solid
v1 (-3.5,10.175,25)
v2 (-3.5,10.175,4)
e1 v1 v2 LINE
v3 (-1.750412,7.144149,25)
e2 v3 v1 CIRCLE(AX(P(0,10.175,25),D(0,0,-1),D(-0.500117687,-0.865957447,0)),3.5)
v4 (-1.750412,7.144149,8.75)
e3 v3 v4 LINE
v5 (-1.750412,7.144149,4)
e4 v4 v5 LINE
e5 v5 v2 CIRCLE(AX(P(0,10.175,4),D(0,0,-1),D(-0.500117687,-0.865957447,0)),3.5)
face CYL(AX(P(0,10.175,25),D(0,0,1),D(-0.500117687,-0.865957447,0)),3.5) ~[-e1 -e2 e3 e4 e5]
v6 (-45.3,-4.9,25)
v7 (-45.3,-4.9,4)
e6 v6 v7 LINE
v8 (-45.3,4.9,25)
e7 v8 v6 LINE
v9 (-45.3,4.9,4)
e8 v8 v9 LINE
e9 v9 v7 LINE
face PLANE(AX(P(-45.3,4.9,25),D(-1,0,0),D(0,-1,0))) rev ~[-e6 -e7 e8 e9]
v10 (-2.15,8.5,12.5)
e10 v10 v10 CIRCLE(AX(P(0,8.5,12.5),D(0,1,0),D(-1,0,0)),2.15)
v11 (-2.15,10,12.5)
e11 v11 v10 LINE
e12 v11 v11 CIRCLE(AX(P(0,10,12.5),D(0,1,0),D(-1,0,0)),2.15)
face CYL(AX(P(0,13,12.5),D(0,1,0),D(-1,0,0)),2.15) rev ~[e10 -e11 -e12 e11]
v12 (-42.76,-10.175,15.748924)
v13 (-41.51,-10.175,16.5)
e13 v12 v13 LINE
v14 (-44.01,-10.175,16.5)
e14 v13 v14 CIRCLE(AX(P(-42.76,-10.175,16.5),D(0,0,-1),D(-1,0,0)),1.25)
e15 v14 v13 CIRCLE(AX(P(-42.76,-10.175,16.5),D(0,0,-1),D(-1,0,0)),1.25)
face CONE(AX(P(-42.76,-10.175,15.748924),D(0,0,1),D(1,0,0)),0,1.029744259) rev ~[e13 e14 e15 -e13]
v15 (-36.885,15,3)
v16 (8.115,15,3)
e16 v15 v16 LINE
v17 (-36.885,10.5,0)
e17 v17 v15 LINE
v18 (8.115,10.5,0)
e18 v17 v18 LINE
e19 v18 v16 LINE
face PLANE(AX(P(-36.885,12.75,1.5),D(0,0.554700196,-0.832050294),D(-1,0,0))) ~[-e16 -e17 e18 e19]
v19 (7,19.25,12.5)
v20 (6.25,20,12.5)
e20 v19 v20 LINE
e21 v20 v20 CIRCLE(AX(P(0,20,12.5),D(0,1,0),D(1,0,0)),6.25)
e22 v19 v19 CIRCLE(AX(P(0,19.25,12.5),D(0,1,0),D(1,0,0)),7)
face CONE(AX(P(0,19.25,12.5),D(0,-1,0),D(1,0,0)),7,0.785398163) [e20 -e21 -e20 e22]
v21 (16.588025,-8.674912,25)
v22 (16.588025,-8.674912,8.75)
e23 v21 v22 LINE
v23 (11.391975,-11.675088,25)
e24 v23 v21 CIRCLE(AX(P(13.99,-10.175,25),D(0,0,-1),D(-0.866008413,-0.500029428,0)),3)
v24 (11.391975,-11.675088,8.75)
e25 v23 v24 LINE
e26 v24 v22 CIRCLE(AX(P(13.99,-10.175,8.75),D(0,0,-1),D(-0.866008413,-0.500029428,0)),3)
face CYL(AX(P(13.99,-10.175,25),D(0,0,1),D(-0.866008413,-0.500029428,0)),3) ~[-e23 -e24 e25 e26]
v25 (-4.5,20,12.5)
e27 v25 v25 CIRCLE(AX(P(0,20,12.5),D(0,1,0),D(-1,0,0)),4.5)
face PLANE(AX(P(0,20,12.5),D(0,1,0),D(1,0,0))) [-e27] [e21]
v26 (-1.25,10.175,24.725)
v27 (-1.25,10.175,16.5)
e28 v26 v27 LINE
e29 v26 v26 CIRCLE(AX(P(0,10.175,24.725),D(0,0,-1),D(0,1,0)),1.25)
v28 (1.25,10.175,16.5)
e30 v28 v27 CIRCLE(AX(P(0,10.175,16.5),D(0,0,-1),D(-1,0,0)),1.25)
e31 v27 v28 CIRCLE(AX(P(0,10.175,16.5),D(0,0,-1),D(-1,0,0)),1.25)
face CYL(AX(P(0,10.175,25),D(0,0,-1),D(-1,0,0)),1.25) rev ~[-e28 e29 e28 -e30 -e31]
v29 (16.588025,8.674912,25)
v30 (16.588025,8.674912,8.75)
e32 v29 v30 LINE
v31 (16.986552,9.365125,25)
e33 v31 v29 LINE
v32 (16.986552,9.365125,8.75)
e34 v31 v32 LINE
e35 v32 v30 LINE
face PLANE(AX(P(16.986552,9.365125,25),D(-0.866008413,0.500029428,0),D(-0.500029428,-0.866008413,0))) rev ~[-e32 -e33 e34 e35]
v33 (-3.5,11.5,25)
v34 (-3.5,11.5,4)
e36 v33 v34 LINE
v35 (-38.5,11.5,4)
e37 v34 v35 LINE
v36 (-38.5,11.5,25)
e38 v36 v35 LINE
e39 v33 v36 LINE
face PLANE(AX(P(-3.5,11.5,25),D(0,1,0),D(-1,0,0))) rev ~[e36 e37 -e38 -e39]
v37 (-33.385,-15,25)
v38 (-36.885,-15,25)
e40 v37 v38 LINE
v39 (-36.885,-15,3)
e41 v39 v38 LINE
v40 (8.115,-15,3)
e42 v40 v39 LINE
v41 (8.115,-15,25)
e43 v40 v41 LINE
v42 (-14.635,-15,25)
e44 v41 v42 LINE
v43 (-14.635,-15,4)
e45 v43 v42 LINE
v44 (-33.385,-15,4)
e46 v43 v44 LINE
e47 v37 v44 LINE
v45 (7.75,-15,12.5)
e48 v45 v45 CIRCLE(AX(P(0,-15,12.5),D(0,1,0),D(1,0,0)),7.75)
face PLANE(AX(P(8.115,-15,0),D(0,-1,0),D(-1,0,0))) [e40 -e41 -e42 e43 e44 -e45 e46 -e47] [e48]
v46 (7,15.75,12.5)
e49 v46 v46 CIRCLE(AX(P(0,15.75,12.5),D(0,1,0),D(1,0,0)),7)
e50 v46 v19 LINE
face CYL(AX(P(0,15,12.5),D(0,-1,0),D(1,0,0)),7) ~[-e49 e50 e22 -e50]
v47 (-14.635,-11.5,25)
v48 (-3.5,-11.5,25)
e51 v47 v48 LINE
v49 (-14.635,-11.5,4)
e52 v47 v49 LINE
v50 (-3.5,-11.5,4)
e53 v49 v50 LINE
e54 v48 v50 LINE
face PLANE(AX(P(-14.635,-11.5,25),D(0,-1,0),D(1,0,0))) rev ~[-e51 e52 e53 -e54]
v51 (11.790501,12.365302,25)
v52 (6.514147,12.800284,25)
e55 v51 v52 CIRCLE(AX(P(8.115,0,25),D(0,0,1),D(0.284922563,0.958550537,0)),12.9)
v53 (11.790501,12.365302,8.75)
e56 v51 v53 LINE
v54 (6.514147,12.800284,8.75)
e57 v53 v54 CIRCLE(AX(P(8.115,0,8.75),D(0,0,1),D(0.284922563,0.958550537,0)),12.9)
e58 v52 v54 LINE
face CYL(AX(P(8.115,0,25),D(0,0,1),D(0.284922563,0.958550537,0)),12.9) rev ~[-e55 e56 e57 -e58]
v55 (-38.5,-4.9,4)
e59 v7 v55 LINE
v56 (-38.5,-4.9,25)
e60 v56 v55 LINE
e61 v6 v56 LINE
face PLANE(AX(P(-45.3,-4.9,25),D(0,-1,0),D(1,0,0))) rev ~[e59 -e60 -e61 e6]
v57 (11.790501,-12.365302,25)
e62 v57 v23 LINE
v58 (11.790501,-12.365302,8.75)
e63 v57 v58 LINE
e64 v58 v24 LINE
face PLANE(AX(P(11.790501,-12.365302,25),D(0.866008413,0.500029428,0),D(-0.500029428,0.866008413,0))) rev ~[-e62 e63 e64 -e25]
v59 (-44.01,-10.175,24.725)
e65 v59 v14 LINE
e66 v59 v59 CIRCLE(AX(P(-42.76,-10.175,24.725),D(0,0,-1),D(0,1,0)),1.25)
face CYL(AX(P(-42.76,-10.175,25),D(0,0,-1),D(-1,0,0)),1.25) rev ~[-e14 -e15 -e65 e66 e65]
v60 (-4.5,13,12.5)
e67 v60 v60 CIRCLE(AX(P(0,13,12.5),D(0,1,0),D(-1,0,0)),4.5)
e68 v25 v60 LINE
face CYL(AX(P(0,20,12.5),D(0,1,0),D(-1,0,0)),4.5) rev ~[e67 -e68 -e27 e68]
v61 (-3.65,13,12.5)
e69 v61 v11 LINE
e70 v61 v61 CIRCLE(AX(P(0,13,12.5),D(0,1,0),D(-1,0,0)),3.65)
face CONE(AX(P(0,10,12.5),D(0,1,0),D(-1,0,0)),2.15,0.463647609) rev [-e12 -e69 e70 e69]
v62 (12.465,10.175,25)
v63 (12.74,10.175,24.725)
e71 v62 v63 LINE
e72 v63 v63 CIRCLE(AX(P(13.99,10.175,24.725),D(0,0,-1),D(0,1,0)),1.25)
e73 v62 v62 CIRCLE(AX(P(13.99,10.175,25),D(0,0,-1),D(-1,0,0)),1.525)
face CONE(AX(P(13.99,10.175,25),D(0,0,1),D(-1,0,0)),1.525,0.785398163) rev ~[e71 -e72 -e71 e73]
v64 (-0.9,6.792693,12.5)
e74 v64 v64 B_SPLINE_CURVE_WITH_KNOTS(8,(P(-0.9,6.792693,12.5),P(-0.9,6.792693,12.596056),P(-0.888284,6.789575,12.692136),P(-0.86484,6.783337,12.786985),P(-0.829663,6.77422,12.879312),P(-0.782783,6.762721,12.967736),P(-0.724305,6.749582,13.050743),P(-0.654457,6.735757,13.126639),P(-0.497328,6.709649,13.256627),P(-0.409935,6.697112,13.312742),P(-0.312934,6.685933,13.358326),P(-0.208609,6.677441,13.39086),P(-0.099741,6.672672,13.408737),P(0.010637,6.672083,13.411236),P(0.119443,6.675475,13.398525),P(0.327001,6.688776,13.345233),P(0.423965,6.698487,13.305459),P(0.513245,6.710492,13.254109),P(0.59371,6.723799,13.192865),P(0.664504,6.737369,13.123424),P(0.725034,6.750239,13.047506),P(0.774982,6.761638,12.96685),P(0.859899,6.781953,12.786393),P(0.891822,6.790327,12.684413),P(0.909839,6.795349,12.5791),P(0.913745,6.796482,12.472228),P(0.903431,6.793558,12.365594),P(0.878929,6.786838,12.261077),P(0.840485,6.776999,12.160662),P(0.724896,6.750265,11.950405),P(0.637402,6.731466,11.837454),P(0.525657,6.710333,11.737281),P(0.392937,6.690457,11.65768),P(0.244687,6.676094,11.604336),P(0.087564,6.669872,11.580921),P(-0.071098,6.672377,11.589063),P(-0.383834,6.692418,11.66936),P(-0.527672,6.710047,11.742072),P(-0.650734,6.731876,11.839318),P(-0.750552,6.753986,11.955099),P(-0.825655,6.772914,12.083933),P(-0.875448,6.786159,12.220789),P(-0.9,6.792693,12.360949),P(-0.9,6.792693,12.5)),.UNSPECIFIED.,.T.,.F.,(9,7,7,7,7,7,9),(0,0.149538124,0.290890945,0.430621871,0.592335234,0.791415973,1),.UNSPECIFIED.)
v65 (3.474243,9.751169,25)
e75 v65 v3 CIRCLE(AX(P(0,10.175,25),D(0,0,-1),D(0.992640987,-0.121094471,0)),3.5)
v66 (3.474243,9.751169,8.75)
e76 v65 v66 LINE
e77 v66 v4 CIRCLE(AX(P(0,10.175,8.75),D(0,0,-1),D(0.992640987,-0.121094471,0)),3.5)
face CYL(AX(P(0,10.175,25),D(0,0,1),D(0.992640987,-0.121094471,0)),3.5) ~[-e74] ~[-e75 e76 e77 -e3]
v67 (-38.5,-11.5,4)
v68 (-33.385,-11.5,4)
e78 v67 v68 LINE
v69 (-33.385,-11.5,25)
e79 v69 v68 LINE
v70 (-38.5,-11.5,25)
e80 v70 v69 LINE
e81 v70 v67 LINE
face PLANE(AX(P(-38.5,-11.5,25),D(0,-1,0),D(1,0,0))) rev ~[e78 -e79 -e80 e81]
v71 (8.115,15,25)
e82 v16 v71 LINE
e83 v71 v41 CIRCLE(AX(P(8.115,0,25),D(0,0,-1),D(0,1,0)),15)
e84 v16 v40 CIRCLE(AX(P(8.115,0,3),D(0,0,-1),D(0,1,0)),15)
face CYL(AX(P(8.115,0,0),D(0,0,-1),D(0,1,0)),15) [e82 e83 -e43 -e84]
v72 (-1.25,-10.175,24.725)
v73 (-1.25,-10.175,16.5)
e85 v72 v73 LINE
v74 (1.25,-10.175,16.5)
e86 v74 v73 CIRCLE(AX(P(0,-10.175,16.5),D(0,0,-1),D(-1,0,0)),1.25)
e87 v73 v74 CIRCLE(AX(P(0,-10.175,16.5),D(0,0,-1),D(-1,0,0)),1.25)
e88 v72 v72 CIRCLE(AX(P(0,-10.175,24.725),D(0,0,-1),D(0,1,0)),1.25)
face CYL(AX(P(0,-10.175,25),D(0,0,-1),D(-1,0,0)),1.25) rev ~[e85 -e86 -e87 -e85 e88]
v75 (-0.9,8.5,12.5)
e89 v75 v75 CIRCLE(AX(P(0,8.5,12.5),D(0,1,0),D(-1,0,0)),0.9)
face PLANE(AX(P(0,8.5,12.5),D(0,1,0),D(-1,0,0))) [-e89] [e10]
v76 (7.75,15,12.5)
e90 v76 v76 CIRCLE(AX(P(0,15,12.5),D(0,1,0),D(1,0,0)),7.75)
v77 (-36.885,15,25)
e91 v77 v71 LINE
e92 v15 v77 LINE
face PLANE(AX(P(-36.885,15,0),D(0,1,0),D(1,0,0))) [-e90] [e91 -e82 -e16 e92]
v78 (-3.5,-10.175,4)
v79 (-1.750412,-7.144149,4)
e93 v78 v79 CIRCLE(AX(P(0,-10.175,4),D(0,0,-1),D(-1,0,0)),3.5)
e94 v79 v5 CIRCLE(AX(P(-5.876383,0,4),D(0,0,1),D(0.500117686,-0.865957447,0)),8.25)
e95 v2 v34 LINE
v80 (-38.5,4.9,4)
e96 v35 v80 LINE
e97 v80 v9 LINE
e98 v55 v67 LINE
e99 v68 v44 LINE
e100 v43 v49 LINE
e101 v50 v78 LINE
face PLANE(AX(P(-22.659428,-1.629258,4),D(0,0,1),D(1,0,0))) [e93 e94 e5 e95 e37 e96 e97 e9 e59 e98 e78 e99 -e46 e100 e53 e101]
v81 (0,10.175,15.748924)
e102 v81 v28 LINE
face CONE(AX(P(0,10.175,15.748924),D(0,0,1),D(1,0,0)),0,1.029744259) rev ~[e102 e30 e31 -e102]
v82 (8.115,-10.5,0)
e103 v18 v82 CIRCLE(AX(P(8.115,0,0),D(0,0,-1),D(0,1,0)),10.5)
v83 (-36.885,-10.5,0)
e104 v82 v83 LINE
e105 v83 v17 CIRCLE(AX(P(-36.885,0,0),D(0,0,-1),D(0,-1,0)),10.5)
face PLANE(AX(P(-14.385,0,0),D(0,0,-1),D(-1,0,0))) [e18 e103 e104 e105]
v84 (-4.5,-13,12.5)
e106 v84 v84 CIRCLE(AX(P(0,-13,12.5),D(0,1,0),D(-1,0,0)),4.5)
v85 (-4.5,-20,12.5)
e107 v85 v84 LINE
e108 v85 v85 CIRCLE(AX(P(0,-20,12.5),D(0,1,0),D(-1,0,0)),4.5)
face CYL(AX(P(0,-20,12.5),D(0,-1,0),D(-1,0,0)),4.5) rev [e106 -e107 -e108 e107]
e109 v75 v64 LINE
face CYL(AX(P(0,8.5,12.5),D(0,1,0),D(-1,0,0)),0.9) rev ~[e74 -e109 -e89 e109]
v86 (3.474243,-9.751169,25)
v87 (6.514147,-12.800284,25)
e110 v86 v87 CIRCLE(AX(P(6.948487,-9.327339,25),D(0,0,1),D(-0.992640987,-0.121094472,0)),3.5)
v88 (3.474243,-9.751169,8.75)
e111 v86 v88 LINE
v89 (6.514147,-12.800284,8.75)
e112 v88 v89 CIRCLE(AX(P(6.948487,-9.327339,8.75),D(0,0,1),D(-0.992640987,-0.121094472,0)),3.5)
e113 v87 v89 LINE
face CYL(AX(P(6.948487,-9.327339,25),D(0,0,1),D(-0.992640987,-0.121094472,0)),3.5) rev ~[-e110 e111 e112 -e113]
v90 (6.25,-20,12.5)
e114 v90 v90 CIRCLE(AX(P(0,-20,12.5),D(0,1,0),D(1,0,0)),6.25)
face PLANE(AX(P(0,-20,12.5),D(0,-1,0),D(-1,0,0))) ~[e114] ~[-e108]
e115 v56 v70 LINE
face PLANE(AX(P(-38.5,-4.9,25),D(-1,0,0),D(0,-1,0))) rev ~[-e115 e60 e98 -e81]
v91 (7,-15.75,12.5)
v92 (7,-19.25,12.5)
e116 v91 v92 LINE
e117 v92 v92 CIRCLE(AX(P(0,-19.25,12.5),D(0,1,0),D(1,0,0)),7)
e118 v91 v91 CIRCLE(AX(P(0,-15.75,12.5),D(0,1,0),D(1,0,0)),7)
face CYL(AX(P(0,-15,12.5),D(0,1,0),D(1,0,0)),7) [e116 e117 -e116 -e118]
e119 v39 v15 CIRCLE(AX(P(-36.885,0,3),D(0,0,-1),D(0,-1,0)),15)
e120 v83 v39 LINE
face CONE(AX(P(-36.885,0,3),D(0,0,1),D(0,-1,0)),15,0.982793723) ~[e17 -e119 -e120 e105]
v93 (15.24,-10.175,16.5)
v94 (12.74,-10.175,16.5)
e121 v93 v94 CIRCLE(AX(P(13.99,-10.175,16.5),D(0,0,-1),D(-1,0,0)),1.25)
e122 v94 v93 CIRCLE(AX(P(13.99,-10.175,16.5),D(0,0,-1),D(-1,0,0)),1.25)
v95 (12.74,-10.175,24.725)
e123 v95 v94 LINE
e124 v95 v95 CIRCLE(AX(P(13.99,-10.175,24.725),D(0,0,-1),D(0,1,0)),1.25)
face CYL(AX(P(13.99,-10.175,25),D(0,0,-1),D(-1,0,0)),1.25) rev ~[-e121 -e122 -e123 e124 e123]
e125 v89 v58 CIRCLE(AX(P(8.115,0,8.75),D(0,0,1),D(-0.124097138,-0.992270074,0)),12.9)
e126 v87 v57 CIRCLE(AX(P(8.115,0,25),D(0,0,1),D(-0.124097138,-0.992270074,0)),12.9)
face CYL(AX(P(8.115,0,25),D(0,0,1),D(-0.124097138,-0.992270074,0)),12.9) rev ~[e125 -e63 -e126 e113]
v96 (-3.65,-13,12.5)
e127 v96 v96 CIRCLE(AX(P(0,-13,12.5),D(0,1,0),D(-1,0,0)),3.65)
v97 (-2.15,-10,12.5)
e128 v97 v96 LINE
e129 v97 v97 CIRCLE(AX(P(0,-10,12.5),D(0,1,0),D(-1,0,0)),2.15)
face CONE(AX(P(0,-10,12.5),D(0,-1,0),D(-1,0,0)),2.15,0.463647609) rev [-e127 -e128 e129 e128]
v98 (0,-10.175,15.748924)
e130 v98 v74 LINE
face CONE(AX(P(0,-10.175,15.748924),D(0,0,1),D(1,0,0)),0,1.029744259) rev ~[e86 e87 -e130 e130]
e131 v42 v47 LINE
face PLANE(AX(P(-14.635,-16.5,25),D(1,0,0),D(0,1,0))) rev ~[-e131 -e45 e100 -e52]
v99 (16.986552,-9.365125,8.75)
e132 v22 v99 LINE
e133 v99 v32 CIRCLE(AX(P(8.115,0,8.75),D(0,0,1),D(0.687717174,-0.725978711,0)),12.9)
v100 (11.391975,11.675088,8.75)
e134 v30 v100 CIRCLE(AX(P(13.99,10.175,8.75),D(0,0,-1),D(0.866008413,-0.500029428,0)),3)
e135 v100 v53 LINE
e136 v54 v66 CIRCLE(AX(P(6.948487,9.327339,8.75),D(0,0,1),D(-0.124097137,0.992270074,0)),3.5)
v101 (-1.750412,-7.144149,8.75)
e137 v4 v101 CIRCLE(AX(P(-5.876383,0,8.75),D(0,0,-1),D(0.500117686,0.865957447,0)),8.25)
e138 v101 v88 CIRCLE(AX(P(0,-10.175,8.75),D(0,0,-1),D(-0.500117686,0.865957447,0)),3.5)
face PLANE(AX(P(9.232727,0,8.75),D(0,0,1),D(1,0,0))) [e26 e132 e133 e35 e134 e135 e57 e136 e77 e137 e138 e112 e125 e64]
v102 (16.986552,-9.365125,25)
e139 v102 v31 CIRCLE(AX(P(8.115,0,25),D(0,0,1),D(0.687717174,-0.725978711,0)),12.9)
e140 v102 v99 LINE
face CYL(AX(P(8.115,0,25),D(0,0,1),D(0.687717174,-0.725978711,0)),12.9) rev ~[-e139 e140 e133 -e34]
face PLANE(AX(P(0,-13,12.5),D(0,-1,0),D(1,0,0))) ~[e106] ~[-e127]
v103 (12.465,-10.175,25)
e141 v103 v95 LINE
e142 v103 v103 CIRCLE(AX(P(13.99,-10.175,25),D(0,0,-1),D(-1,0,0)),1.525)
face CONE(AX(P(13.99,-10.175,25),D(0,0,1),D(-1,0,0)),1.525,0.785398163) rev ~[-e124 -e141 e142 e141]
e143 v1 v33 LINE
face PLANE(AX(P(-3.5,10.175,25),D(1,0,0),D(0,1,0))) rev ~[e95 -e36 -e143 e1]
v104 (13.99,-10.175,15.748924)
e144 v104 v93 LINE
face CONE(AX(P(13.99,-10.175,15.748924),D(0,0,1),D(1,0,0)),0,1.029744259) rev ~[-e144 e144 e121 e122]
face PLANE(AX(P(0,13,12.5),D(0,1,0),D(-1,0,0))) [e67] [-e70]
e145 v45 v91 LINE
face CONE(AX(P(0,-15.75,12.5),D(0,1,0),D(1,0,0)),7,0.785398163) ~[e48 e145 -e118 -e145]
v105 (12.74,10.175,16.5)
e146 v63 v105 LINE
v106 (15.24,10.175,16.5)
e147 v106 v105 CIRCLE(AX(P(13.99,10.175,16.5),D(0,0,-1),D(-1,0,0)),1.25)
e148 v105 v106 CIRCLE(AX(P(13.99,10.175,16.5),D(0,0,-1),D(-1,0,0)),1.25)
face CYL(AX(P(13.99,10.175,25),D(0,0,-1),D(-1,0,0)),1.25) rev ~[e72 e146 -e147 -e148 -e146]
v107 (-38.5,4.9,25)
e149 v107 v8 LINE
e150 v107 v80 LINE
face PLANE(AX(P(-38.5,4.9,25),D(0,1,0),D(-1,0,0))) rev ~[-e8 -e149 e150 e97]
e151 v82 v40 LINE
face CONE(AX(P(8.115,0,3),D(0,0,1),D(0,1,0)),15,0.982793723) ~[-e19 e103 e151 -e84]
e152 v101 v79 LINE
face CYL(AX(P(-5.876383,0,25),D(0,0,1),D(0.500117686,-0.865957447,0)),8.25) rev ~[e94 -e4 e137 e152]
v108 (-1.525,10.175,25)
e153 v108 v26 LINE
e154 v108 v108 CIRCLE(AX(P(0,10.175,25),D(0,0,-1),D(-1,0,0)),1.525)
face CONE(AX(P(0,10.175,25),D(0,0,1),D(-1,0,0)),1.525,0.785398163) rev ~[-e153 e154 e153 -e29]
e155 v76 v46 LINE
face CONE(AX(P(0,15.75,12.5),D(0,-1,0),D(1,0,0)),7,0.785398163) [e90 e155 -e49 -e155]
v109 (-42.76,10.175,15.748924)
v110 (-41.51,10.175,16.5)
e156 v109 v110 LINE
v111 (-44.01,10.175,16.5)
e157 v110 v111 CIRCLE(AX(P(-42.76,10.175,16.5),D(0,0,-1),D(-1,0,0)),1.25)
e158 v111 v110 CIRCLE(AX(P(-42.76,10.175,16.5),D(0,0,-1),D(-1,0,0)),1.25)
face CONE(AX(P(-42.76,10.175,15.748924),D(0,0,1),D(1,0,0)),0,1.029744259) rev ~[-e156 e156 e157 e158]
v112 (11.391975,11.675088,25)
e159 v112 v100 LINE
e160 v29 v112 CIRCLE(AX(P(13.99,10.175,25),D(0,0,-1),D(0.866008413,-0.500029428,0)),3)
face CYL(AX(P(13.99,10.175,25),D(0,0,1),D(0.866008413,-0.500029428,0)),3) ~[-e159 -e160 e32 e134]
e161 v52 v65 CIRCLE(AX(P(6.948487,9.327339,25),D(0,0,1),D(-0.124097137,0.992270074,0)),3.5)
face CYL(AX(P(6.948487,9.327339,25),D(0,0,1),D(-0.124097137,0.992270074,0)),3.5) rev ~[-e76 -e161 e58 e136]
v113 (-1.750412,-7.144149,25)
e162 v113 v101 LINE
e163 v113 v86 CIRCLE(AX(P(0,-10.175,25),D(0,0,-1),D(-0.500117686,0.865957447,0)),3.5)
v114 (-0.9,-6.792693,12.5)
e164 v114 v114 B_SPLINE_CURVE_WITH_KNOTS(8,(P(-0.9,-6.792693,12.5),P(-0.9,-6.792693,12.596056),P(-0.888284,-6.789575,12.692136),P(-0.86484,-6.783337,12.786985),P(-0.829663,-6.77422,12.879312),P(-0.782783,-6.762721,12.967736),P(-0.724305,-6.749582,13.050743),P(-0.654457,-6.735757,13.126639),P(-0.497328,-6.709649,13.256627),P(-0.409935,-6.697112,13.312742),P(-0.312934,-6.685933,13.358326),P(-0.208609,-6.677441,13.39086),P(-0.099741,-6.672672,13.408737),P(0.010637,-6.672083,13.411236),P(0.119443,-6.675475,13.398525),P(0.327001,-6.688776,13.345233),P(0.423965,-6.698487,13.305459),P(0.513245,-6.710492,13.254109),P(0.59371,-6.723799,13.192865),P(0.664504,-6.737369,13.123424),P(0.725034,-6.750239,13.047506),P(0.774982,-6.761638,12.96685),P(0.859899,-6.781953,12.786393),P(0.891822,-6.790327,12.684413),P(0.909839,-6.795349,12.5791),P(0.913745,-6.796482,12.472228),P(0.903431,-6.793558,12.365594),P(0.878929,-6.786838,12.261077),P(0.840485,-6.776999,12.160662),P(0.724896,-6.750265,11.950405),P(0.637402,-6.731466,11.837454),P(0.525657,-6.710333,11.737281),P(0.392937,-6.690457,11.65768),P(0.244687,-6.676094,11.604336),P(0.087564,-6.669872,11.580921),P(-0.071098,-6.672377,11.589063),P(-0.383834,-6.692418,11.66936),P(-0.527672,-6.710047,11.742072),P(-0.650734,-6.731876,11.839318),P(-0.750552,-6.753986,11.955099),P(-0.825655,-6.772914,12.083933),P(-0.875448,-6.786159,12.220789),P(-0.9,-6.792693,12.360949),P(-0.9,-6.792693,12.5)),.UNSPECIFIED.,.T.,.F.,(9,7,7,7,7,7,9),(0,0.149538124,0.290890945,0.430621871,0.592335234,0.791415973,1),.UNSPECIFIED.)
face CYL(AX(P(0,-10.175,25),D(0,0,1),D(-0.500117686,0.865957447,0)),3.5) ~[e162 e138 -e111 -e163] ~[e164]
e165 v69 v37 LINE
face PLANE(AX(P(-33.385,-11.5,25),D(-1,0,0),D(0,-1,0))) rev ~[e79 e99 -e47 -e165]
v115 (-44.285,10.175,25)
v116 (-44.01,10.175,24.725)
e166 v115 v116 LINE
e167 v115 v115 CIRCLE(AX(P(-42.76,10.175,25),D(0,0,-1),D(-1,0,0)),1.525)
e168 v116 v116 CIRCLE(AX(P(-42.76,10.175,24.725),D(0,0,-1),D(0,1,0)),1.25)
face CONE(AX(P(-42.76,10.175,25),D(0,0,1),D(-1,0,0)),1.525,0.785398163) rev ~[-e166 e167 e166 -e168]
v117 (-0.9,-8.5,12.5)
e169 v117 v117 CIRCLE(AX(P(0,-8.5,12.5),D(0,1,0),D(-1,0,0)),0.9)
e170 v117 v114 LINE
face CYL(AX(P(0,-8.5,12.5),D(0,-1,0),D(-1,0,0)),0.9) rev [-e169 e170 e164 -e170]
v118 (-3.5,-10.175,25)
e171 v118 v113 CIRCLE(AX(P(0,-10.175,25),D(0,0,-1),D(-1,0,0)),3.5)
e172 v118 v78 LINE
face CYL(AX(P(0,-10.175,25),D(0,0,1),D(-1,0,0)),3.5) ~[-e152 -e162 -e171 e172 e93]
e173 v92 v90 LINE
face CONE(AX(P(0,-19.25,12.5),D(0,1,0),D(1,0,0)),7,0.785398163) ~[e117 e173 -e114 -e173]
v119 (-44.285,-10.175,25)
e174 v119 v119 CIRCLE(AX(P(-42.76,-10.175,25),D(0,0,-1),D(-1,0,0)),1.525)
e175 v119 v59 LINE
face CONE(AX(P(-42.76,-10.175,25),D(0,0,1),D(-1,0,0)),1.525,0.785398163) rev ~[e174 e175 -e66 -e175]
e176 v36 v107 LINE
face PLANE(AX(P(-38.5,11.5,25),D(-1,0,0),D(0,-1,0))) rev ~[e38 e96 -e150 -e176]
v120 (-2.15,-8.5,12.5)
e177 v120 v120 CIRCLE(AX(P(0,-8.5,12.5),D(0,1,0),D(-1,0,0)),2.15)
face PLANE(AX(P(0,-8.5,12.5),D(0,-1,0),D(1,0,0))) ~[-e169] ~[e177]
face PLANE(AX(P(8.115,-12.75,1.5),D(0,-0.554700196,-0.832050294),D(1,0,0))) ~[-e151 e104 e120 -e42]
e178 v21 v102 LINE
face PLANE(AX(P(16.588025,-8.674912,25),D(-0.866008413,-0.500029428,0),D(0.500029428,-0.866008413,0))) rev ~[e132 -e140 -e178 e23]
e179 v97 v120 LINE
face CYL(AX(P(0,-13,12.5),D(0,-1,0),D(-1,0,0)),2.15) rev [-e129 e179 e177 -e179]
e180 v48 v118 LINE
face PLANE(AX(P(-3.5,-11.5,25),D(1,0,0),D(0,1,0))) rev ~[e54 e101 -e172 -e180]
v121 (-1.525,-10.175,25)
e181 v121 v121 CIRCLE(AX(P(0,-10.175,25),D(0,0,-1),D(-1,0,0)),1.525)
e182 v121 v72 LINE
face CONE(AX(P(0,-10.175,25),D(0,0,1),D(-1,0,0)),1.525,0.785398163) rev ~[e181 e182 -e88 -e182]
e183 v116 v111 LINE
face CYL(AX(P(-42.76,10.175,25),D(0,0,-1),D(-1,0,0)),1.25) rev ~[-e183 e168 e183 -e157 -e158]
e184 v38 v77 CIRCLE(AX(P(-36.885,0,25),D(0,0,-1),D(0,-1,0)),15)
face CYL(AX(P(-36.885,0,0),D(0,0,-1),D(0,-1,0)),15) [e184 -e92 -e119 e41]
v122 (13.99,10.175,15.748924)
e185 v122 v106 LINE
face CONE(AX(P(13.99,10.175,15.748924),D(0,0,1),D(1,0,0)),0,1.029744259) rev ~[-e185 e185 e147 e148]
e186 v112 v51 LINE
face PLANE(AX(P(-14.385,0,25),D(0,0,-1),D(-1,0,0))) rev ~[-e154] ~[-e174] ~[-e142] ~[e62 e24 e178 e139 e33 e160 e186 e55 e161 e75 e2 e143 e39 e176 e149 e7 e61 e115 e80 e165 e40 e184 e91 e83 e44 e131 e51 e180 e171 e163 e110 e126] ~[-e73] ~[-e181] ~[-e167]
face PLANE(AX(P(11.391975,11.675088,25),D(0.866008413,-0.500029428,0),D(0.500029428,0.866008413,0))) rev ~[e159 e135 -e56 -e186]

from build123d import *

# Parameters (mm, degrees)
BOSS_EXTRUDE1_DEPTH         = 25
CUT_EXTRUDE1_DEPTH          = 21
CUT_EXTRUDE2_DEPTH          = 16.25
M3_TAPPED_HOLE1_D           = 2.5
M3_TAPPED_HOLE1_DEPTH       = 8.5
M3_TAPPED_HOLE1_CSINK_D     = 3.05
M3_TAPPED_HOLE1_CSINK_ANGLE = 90
M3_TAPPED_HOLE1_TIP         = 0.751075774
SKETCH5_R                   = 7
BOSS_EXTRUDE2_DEPTH         = 5
SKETCH6_R                   = 4.5
CUT_EXTRUDE3_DEPTH          = 7
SKETCH7_R                   = 2.15
CUT_EXTRUDE4_DEPTH          = 4.5
CHAMFER2_SIZE               = 1.5
CHAMFER2_SIZE2              = 3
CUT_EXTRUDE5_REACH          = 64.204
CUT_EXTRUDE5_END_RADIUS     = 3.5
SKETCH8_R                   = 0.9
CHAMFER2_OF_MIRROR1_SIZE2   = 1.5
CHAMFER2_OF_MIRROR1_SIZE    = 3
CHAMFER3_SIZE               = 4.5
CHAMFER3_SIZE2              = 3
CHAMFER4_SIZE               = 0.75


with BuildPart() as part:
    # Sketch1 → Boss-Extrude1 (new body)
    with BuildSketch(Plane.XY):
        with BuildLine():
            Line((-36.885, 15), (8.115, 15))
            ThreePointArc((8.115, 15), (23.115, 0), (8.115, -15))
            Line((8.115, -15), (-36.885, -15))
            ThreePointArc((-36.885, -15), (-51.885, 0), (-36.885, 15))
        make_face()
    extrude(amount=BOSS_EXTRUDE1_DEPTH)

    # Sketch2 → Cut-Extrude1 (cut)
    with BuildSketch(Plane.XY.offset(25)):
        with BuildLine():
            Line((-3.5, 11.5), (-38.5, 11.5))
            Line((-38.5, 11.5), (-38.5, 4.9))
            Line((-38.5, 4.9), (-45.3, 4.9))
            Line((-45.3, 4.9), (-45.3, -4.9))
            Line((-45.3, -4.9), (-38.5, -4.9))
            Line((-38.5, -4.9), (-38.5, -11.5))
            Line((-38.5, -11.5), (-33.385, -11.5))
            Line((-33.385, -11.5), (-33.385, -16.5))
            Line((-33.385, -16.5), (-14.635, -16.5))
            Line((-14.635, -16.5), (-14.635, -11.5))
            Line((-14.635, -11.5), (-3.5, -11.5))
            Line((-3.5, -11.5), (-3.5, -10.175))
            ThreePointArc((-3.5, -10.175), (-3.031207817, -8.425205963), (-1.750411903, -7.144148936))
            ThreePointArc((-1.750411903, -7.144148936), (2.373617184, 0), (-1.750411903, 7.144148936))
            ThreePointArc((-1.750411903, 7.144148936), (-3.031207817, 8.425205963), (-3.5, 10.175))
            Line((-3.5, 10.175), (-3.5, 11.5))
        make_face()
    extrude(amount=-CUT_EXTRUDE1_DEPTH, mode=Mode.SUBTRACT)

    # Sketch2<3> → Cut-Extrude2 (cut)
    with BuildSketch(Plane.XY.offset(25)):
        with BuildLine():
            ThreePointArc((3.474243454, 9.75116935), (1.562702039, 7.043233352), (-1.750411903, 7.144148936))
            ThreePointArc((-1.750411903, 7.144148936), (2.373617184, 0), (-1.750411903, -7.144148936))
            ThreePointArc((-1.750411903, -7.144148936), (1.562702039, -7.043233352), (3.474243454, -9.75116935))
            ThreePointArc((3.474243454, -9.75116935), (4.469872156, -11.798465751), (6.514146928, -12.800283959))
            ThreePointArc((6.514146928, -12.800283959), (9.174878964, -12.856385829), (11.79050107, -12.365301933))
            Line((11.79050107, -12.365301933), (11.391974761, -11.675088283))
            ThreePointArc((11.391974761, -11.675088283), (12.489911717, -7.576974761), (16.588025239, -8.674911717))
            Line((16.588025239, -8.674911717), (16.986551548, -9.365125367))
            ThreePointArc((16.986551548, -9.365125367), (21.015, 0), (16.986551548, 9.365125367))
            Line((16.986551548, 9.365125367), (16.588025239, 8.674911717))
            ThreePointArc((16.588025239, 8.674911717), (12.489911717, 7.576974761), (11.391974761, 11.675088283))
            Line((11.391974761, 11.675088283), (11.79050107, 12.365301933))
            ThreePointArc((11.79050107, 12.365301933), (9.174878964, 12.856385829), (6.514146928, 12.800283959))
            ThreePointArc((6.514146928, 12.800283959), (4.469872156, 11.798465751), (3.474243454, 9.75116935))
        make_face()
    extrude(amount=-CUT_EXTRUDE2_DEPTH, mode=Mode.SUBTRACT)

    # M3 Tapped Hole1
    with Locations(Plane.XY.offset(25)):
        with Locations((-42.76, 10.175), (-42.76, -10.175), (0, -10.175), (0, 10.175), (13.99, 10.175), (13.99, -10.175)):
            CounterSinkHole(M3_TAPPED_HOLE1_D / 2, M3_TAPPED_HOLE1_CSINK_D / 2, depth=M3_TAPPED_HOLE1_DEPTH, counter_sink_angle=M3_TAPPED_HOLE1_CSINK_ANGLE)
            with Locations((0, 0, -(M3_TAPPED_HOLE1_DEPTH + M3_TAPPED_HOLE1_TIP / 2))):  # 118° drill point
                Cone(0, M3_TAPPED_HOLE1_D / 2, M3_TAPPED_HOLE1_TIP, mode=Mode.SUBTRACT)

    # Sketch5 → Boss-Extrude2 (add)
    with BuildSketch(Plane(origin=(0, 15, 0), x_dir=(1, 0, 0), z_dir=(0, 1, 0))):
        with Locations((0, -12.5)):
            Circle(SKETCH5_R)
    boss_extrude2 = extrude(amount=BOSS_EXTRUDE2_DEPTH)

    # Sketch6 → Cut-Extrude3 (cut)
    with BuildSketch(Plane(origin=(0, 20, 0), x_dir=(1, 0, 0), z_dir=(0, 1, 0))):
        with Locations(Location((0, -12.5, 0), (0, 0, 180))):
            Circle(SKETCH6_R)
    cut_extrude3 = extrude(amount=-CUT_EXTRUDE3_DEPTH, mode=Mode.SUBTRACT)

    # Sketch7 → Cut-Extrude4 (cut)
    with BuildSketch(Plane(origin=(0, 13, 0), x_dir=(1, 0, 0), z_dir=(0, 1, 0))):
        with Locations(Location((0, -12.5, 0), (0, 0, 180))):
            Circle(SKETCH7_R)
    cut_extrude4 = extrude(amount=-CUT_EXTRUDE4_DEPTH, mode=Mode.SUBTRACT)

    # Chamfer2
    chamfer2_edges = [part.edges().sort_by_distance(p)[0] for p in [
        (2.15, 13, 12.5),
    ]]
    chamfer2_side = [part.faces().sort_by_distance(p)[0] for p in [
        (4.372720779, 13, 12.5),
    ]]
    chamfer(chamfer2_edges, length=CHAMFER2_SIZE, length2=CHAMFER2_SIZE2, reference=chamfer2_side[0])

    # Cut-Extrude5: up to this cylinder (the profile starts inside it)
    cut_extrude5_end = Plane(origin=(0, 10.175, 12.5), z_dir=(0, 0, 1)) * Cylinder(CUT_EXTRUDE5_END_RADIUS, 136.408, mode=Mode.PRIVATE)
    # Sketch8 → Cut-Extrude5 (cut, up to the surface)
    with BuildSketch(Plane(origin=(0, 8.5, 0), x_dir=(1, 0, 0), z_dir=(0, 1, 0)), mode=Mode.PRIVATE) as cut_extrude5_sk1:
        with Locations(Location((0, -12.5, 0), (0, 0, 180))):
            Circle(SKETCH8_R)
    cut_extrude5_tool1 = extrude(cut_extrude5_sk1.sketch, amount=-CUT_EXTRUDE5_REACH, mode=Mode.PRIVATE) & cut_extrude5_end
    cut_extrude5 = cut_extrude5_tool1.solids().sort_by_distance((0, 8.5, 12.5))[0]
    add(cut_extrude5, mode=Mode.SUBTRACT)

    # Mirror1: Boss-Extrude2, Cut-Extrude3, Cut-Extrude4, Cut-Extrude5 across plane
    add(boss_extrude2.mirror(Plane.ZX))
    add(cut_extrude3.mirror(Plane.ZX), mode=Mode.SUBTRACT)
    add(cut_extrude4.mirror(Plane.ZX), mode=Mode.SUBTRACT)
    add(cut_extrude5.mirror(Plane.ZX), mode=Mode.SUBTRACT)

    # Chamfer2 of Mirror1
    chamfer2_of_mirror1_edges = [part.edges().sort_by_distance(p)[0] for p in [
        (2.15, -13, 12.5),
    ]]
    chamfer(chamfer2_of_mirror1_edges, length=CHAMFER2_OF_MIRROR1_SIZE, length2=CHAMFER2_OF_MIRROR1_SIZE2)

    # Chamfer3
    chamfer3_edges = [part.edges().sort_by_distance(p)[0] for p in [
        (-14.385, 15, 0),
        (23.115, 0, 0),
        (-14.385, -15, 0),
        (-51.885, 0, 0),
    ]]
    chamfer3_side = [part.faces().sort_by_distance(p)[0] for p in [
        (-14.385, 0, 0),
    ]]
    chamfer(chamfer3_edges, length=CHAMFER3_SIZE, length2=CHAMFER3_SIZE2, reference=chamfer3_side[0])

    # Chamfer4
    chamfer4_edges = [part.edges().sort_by_distance(p)[0] for p in [
        (-7, 15, 12.5),
        (-7, 20, 12.5),
        (-7, -20, 12.5),
        (-7, -15, 12.5),
    ]]
    chamfer(chamfer4_edges, length=CHAMFER4_SIZE)


solid = part.part
